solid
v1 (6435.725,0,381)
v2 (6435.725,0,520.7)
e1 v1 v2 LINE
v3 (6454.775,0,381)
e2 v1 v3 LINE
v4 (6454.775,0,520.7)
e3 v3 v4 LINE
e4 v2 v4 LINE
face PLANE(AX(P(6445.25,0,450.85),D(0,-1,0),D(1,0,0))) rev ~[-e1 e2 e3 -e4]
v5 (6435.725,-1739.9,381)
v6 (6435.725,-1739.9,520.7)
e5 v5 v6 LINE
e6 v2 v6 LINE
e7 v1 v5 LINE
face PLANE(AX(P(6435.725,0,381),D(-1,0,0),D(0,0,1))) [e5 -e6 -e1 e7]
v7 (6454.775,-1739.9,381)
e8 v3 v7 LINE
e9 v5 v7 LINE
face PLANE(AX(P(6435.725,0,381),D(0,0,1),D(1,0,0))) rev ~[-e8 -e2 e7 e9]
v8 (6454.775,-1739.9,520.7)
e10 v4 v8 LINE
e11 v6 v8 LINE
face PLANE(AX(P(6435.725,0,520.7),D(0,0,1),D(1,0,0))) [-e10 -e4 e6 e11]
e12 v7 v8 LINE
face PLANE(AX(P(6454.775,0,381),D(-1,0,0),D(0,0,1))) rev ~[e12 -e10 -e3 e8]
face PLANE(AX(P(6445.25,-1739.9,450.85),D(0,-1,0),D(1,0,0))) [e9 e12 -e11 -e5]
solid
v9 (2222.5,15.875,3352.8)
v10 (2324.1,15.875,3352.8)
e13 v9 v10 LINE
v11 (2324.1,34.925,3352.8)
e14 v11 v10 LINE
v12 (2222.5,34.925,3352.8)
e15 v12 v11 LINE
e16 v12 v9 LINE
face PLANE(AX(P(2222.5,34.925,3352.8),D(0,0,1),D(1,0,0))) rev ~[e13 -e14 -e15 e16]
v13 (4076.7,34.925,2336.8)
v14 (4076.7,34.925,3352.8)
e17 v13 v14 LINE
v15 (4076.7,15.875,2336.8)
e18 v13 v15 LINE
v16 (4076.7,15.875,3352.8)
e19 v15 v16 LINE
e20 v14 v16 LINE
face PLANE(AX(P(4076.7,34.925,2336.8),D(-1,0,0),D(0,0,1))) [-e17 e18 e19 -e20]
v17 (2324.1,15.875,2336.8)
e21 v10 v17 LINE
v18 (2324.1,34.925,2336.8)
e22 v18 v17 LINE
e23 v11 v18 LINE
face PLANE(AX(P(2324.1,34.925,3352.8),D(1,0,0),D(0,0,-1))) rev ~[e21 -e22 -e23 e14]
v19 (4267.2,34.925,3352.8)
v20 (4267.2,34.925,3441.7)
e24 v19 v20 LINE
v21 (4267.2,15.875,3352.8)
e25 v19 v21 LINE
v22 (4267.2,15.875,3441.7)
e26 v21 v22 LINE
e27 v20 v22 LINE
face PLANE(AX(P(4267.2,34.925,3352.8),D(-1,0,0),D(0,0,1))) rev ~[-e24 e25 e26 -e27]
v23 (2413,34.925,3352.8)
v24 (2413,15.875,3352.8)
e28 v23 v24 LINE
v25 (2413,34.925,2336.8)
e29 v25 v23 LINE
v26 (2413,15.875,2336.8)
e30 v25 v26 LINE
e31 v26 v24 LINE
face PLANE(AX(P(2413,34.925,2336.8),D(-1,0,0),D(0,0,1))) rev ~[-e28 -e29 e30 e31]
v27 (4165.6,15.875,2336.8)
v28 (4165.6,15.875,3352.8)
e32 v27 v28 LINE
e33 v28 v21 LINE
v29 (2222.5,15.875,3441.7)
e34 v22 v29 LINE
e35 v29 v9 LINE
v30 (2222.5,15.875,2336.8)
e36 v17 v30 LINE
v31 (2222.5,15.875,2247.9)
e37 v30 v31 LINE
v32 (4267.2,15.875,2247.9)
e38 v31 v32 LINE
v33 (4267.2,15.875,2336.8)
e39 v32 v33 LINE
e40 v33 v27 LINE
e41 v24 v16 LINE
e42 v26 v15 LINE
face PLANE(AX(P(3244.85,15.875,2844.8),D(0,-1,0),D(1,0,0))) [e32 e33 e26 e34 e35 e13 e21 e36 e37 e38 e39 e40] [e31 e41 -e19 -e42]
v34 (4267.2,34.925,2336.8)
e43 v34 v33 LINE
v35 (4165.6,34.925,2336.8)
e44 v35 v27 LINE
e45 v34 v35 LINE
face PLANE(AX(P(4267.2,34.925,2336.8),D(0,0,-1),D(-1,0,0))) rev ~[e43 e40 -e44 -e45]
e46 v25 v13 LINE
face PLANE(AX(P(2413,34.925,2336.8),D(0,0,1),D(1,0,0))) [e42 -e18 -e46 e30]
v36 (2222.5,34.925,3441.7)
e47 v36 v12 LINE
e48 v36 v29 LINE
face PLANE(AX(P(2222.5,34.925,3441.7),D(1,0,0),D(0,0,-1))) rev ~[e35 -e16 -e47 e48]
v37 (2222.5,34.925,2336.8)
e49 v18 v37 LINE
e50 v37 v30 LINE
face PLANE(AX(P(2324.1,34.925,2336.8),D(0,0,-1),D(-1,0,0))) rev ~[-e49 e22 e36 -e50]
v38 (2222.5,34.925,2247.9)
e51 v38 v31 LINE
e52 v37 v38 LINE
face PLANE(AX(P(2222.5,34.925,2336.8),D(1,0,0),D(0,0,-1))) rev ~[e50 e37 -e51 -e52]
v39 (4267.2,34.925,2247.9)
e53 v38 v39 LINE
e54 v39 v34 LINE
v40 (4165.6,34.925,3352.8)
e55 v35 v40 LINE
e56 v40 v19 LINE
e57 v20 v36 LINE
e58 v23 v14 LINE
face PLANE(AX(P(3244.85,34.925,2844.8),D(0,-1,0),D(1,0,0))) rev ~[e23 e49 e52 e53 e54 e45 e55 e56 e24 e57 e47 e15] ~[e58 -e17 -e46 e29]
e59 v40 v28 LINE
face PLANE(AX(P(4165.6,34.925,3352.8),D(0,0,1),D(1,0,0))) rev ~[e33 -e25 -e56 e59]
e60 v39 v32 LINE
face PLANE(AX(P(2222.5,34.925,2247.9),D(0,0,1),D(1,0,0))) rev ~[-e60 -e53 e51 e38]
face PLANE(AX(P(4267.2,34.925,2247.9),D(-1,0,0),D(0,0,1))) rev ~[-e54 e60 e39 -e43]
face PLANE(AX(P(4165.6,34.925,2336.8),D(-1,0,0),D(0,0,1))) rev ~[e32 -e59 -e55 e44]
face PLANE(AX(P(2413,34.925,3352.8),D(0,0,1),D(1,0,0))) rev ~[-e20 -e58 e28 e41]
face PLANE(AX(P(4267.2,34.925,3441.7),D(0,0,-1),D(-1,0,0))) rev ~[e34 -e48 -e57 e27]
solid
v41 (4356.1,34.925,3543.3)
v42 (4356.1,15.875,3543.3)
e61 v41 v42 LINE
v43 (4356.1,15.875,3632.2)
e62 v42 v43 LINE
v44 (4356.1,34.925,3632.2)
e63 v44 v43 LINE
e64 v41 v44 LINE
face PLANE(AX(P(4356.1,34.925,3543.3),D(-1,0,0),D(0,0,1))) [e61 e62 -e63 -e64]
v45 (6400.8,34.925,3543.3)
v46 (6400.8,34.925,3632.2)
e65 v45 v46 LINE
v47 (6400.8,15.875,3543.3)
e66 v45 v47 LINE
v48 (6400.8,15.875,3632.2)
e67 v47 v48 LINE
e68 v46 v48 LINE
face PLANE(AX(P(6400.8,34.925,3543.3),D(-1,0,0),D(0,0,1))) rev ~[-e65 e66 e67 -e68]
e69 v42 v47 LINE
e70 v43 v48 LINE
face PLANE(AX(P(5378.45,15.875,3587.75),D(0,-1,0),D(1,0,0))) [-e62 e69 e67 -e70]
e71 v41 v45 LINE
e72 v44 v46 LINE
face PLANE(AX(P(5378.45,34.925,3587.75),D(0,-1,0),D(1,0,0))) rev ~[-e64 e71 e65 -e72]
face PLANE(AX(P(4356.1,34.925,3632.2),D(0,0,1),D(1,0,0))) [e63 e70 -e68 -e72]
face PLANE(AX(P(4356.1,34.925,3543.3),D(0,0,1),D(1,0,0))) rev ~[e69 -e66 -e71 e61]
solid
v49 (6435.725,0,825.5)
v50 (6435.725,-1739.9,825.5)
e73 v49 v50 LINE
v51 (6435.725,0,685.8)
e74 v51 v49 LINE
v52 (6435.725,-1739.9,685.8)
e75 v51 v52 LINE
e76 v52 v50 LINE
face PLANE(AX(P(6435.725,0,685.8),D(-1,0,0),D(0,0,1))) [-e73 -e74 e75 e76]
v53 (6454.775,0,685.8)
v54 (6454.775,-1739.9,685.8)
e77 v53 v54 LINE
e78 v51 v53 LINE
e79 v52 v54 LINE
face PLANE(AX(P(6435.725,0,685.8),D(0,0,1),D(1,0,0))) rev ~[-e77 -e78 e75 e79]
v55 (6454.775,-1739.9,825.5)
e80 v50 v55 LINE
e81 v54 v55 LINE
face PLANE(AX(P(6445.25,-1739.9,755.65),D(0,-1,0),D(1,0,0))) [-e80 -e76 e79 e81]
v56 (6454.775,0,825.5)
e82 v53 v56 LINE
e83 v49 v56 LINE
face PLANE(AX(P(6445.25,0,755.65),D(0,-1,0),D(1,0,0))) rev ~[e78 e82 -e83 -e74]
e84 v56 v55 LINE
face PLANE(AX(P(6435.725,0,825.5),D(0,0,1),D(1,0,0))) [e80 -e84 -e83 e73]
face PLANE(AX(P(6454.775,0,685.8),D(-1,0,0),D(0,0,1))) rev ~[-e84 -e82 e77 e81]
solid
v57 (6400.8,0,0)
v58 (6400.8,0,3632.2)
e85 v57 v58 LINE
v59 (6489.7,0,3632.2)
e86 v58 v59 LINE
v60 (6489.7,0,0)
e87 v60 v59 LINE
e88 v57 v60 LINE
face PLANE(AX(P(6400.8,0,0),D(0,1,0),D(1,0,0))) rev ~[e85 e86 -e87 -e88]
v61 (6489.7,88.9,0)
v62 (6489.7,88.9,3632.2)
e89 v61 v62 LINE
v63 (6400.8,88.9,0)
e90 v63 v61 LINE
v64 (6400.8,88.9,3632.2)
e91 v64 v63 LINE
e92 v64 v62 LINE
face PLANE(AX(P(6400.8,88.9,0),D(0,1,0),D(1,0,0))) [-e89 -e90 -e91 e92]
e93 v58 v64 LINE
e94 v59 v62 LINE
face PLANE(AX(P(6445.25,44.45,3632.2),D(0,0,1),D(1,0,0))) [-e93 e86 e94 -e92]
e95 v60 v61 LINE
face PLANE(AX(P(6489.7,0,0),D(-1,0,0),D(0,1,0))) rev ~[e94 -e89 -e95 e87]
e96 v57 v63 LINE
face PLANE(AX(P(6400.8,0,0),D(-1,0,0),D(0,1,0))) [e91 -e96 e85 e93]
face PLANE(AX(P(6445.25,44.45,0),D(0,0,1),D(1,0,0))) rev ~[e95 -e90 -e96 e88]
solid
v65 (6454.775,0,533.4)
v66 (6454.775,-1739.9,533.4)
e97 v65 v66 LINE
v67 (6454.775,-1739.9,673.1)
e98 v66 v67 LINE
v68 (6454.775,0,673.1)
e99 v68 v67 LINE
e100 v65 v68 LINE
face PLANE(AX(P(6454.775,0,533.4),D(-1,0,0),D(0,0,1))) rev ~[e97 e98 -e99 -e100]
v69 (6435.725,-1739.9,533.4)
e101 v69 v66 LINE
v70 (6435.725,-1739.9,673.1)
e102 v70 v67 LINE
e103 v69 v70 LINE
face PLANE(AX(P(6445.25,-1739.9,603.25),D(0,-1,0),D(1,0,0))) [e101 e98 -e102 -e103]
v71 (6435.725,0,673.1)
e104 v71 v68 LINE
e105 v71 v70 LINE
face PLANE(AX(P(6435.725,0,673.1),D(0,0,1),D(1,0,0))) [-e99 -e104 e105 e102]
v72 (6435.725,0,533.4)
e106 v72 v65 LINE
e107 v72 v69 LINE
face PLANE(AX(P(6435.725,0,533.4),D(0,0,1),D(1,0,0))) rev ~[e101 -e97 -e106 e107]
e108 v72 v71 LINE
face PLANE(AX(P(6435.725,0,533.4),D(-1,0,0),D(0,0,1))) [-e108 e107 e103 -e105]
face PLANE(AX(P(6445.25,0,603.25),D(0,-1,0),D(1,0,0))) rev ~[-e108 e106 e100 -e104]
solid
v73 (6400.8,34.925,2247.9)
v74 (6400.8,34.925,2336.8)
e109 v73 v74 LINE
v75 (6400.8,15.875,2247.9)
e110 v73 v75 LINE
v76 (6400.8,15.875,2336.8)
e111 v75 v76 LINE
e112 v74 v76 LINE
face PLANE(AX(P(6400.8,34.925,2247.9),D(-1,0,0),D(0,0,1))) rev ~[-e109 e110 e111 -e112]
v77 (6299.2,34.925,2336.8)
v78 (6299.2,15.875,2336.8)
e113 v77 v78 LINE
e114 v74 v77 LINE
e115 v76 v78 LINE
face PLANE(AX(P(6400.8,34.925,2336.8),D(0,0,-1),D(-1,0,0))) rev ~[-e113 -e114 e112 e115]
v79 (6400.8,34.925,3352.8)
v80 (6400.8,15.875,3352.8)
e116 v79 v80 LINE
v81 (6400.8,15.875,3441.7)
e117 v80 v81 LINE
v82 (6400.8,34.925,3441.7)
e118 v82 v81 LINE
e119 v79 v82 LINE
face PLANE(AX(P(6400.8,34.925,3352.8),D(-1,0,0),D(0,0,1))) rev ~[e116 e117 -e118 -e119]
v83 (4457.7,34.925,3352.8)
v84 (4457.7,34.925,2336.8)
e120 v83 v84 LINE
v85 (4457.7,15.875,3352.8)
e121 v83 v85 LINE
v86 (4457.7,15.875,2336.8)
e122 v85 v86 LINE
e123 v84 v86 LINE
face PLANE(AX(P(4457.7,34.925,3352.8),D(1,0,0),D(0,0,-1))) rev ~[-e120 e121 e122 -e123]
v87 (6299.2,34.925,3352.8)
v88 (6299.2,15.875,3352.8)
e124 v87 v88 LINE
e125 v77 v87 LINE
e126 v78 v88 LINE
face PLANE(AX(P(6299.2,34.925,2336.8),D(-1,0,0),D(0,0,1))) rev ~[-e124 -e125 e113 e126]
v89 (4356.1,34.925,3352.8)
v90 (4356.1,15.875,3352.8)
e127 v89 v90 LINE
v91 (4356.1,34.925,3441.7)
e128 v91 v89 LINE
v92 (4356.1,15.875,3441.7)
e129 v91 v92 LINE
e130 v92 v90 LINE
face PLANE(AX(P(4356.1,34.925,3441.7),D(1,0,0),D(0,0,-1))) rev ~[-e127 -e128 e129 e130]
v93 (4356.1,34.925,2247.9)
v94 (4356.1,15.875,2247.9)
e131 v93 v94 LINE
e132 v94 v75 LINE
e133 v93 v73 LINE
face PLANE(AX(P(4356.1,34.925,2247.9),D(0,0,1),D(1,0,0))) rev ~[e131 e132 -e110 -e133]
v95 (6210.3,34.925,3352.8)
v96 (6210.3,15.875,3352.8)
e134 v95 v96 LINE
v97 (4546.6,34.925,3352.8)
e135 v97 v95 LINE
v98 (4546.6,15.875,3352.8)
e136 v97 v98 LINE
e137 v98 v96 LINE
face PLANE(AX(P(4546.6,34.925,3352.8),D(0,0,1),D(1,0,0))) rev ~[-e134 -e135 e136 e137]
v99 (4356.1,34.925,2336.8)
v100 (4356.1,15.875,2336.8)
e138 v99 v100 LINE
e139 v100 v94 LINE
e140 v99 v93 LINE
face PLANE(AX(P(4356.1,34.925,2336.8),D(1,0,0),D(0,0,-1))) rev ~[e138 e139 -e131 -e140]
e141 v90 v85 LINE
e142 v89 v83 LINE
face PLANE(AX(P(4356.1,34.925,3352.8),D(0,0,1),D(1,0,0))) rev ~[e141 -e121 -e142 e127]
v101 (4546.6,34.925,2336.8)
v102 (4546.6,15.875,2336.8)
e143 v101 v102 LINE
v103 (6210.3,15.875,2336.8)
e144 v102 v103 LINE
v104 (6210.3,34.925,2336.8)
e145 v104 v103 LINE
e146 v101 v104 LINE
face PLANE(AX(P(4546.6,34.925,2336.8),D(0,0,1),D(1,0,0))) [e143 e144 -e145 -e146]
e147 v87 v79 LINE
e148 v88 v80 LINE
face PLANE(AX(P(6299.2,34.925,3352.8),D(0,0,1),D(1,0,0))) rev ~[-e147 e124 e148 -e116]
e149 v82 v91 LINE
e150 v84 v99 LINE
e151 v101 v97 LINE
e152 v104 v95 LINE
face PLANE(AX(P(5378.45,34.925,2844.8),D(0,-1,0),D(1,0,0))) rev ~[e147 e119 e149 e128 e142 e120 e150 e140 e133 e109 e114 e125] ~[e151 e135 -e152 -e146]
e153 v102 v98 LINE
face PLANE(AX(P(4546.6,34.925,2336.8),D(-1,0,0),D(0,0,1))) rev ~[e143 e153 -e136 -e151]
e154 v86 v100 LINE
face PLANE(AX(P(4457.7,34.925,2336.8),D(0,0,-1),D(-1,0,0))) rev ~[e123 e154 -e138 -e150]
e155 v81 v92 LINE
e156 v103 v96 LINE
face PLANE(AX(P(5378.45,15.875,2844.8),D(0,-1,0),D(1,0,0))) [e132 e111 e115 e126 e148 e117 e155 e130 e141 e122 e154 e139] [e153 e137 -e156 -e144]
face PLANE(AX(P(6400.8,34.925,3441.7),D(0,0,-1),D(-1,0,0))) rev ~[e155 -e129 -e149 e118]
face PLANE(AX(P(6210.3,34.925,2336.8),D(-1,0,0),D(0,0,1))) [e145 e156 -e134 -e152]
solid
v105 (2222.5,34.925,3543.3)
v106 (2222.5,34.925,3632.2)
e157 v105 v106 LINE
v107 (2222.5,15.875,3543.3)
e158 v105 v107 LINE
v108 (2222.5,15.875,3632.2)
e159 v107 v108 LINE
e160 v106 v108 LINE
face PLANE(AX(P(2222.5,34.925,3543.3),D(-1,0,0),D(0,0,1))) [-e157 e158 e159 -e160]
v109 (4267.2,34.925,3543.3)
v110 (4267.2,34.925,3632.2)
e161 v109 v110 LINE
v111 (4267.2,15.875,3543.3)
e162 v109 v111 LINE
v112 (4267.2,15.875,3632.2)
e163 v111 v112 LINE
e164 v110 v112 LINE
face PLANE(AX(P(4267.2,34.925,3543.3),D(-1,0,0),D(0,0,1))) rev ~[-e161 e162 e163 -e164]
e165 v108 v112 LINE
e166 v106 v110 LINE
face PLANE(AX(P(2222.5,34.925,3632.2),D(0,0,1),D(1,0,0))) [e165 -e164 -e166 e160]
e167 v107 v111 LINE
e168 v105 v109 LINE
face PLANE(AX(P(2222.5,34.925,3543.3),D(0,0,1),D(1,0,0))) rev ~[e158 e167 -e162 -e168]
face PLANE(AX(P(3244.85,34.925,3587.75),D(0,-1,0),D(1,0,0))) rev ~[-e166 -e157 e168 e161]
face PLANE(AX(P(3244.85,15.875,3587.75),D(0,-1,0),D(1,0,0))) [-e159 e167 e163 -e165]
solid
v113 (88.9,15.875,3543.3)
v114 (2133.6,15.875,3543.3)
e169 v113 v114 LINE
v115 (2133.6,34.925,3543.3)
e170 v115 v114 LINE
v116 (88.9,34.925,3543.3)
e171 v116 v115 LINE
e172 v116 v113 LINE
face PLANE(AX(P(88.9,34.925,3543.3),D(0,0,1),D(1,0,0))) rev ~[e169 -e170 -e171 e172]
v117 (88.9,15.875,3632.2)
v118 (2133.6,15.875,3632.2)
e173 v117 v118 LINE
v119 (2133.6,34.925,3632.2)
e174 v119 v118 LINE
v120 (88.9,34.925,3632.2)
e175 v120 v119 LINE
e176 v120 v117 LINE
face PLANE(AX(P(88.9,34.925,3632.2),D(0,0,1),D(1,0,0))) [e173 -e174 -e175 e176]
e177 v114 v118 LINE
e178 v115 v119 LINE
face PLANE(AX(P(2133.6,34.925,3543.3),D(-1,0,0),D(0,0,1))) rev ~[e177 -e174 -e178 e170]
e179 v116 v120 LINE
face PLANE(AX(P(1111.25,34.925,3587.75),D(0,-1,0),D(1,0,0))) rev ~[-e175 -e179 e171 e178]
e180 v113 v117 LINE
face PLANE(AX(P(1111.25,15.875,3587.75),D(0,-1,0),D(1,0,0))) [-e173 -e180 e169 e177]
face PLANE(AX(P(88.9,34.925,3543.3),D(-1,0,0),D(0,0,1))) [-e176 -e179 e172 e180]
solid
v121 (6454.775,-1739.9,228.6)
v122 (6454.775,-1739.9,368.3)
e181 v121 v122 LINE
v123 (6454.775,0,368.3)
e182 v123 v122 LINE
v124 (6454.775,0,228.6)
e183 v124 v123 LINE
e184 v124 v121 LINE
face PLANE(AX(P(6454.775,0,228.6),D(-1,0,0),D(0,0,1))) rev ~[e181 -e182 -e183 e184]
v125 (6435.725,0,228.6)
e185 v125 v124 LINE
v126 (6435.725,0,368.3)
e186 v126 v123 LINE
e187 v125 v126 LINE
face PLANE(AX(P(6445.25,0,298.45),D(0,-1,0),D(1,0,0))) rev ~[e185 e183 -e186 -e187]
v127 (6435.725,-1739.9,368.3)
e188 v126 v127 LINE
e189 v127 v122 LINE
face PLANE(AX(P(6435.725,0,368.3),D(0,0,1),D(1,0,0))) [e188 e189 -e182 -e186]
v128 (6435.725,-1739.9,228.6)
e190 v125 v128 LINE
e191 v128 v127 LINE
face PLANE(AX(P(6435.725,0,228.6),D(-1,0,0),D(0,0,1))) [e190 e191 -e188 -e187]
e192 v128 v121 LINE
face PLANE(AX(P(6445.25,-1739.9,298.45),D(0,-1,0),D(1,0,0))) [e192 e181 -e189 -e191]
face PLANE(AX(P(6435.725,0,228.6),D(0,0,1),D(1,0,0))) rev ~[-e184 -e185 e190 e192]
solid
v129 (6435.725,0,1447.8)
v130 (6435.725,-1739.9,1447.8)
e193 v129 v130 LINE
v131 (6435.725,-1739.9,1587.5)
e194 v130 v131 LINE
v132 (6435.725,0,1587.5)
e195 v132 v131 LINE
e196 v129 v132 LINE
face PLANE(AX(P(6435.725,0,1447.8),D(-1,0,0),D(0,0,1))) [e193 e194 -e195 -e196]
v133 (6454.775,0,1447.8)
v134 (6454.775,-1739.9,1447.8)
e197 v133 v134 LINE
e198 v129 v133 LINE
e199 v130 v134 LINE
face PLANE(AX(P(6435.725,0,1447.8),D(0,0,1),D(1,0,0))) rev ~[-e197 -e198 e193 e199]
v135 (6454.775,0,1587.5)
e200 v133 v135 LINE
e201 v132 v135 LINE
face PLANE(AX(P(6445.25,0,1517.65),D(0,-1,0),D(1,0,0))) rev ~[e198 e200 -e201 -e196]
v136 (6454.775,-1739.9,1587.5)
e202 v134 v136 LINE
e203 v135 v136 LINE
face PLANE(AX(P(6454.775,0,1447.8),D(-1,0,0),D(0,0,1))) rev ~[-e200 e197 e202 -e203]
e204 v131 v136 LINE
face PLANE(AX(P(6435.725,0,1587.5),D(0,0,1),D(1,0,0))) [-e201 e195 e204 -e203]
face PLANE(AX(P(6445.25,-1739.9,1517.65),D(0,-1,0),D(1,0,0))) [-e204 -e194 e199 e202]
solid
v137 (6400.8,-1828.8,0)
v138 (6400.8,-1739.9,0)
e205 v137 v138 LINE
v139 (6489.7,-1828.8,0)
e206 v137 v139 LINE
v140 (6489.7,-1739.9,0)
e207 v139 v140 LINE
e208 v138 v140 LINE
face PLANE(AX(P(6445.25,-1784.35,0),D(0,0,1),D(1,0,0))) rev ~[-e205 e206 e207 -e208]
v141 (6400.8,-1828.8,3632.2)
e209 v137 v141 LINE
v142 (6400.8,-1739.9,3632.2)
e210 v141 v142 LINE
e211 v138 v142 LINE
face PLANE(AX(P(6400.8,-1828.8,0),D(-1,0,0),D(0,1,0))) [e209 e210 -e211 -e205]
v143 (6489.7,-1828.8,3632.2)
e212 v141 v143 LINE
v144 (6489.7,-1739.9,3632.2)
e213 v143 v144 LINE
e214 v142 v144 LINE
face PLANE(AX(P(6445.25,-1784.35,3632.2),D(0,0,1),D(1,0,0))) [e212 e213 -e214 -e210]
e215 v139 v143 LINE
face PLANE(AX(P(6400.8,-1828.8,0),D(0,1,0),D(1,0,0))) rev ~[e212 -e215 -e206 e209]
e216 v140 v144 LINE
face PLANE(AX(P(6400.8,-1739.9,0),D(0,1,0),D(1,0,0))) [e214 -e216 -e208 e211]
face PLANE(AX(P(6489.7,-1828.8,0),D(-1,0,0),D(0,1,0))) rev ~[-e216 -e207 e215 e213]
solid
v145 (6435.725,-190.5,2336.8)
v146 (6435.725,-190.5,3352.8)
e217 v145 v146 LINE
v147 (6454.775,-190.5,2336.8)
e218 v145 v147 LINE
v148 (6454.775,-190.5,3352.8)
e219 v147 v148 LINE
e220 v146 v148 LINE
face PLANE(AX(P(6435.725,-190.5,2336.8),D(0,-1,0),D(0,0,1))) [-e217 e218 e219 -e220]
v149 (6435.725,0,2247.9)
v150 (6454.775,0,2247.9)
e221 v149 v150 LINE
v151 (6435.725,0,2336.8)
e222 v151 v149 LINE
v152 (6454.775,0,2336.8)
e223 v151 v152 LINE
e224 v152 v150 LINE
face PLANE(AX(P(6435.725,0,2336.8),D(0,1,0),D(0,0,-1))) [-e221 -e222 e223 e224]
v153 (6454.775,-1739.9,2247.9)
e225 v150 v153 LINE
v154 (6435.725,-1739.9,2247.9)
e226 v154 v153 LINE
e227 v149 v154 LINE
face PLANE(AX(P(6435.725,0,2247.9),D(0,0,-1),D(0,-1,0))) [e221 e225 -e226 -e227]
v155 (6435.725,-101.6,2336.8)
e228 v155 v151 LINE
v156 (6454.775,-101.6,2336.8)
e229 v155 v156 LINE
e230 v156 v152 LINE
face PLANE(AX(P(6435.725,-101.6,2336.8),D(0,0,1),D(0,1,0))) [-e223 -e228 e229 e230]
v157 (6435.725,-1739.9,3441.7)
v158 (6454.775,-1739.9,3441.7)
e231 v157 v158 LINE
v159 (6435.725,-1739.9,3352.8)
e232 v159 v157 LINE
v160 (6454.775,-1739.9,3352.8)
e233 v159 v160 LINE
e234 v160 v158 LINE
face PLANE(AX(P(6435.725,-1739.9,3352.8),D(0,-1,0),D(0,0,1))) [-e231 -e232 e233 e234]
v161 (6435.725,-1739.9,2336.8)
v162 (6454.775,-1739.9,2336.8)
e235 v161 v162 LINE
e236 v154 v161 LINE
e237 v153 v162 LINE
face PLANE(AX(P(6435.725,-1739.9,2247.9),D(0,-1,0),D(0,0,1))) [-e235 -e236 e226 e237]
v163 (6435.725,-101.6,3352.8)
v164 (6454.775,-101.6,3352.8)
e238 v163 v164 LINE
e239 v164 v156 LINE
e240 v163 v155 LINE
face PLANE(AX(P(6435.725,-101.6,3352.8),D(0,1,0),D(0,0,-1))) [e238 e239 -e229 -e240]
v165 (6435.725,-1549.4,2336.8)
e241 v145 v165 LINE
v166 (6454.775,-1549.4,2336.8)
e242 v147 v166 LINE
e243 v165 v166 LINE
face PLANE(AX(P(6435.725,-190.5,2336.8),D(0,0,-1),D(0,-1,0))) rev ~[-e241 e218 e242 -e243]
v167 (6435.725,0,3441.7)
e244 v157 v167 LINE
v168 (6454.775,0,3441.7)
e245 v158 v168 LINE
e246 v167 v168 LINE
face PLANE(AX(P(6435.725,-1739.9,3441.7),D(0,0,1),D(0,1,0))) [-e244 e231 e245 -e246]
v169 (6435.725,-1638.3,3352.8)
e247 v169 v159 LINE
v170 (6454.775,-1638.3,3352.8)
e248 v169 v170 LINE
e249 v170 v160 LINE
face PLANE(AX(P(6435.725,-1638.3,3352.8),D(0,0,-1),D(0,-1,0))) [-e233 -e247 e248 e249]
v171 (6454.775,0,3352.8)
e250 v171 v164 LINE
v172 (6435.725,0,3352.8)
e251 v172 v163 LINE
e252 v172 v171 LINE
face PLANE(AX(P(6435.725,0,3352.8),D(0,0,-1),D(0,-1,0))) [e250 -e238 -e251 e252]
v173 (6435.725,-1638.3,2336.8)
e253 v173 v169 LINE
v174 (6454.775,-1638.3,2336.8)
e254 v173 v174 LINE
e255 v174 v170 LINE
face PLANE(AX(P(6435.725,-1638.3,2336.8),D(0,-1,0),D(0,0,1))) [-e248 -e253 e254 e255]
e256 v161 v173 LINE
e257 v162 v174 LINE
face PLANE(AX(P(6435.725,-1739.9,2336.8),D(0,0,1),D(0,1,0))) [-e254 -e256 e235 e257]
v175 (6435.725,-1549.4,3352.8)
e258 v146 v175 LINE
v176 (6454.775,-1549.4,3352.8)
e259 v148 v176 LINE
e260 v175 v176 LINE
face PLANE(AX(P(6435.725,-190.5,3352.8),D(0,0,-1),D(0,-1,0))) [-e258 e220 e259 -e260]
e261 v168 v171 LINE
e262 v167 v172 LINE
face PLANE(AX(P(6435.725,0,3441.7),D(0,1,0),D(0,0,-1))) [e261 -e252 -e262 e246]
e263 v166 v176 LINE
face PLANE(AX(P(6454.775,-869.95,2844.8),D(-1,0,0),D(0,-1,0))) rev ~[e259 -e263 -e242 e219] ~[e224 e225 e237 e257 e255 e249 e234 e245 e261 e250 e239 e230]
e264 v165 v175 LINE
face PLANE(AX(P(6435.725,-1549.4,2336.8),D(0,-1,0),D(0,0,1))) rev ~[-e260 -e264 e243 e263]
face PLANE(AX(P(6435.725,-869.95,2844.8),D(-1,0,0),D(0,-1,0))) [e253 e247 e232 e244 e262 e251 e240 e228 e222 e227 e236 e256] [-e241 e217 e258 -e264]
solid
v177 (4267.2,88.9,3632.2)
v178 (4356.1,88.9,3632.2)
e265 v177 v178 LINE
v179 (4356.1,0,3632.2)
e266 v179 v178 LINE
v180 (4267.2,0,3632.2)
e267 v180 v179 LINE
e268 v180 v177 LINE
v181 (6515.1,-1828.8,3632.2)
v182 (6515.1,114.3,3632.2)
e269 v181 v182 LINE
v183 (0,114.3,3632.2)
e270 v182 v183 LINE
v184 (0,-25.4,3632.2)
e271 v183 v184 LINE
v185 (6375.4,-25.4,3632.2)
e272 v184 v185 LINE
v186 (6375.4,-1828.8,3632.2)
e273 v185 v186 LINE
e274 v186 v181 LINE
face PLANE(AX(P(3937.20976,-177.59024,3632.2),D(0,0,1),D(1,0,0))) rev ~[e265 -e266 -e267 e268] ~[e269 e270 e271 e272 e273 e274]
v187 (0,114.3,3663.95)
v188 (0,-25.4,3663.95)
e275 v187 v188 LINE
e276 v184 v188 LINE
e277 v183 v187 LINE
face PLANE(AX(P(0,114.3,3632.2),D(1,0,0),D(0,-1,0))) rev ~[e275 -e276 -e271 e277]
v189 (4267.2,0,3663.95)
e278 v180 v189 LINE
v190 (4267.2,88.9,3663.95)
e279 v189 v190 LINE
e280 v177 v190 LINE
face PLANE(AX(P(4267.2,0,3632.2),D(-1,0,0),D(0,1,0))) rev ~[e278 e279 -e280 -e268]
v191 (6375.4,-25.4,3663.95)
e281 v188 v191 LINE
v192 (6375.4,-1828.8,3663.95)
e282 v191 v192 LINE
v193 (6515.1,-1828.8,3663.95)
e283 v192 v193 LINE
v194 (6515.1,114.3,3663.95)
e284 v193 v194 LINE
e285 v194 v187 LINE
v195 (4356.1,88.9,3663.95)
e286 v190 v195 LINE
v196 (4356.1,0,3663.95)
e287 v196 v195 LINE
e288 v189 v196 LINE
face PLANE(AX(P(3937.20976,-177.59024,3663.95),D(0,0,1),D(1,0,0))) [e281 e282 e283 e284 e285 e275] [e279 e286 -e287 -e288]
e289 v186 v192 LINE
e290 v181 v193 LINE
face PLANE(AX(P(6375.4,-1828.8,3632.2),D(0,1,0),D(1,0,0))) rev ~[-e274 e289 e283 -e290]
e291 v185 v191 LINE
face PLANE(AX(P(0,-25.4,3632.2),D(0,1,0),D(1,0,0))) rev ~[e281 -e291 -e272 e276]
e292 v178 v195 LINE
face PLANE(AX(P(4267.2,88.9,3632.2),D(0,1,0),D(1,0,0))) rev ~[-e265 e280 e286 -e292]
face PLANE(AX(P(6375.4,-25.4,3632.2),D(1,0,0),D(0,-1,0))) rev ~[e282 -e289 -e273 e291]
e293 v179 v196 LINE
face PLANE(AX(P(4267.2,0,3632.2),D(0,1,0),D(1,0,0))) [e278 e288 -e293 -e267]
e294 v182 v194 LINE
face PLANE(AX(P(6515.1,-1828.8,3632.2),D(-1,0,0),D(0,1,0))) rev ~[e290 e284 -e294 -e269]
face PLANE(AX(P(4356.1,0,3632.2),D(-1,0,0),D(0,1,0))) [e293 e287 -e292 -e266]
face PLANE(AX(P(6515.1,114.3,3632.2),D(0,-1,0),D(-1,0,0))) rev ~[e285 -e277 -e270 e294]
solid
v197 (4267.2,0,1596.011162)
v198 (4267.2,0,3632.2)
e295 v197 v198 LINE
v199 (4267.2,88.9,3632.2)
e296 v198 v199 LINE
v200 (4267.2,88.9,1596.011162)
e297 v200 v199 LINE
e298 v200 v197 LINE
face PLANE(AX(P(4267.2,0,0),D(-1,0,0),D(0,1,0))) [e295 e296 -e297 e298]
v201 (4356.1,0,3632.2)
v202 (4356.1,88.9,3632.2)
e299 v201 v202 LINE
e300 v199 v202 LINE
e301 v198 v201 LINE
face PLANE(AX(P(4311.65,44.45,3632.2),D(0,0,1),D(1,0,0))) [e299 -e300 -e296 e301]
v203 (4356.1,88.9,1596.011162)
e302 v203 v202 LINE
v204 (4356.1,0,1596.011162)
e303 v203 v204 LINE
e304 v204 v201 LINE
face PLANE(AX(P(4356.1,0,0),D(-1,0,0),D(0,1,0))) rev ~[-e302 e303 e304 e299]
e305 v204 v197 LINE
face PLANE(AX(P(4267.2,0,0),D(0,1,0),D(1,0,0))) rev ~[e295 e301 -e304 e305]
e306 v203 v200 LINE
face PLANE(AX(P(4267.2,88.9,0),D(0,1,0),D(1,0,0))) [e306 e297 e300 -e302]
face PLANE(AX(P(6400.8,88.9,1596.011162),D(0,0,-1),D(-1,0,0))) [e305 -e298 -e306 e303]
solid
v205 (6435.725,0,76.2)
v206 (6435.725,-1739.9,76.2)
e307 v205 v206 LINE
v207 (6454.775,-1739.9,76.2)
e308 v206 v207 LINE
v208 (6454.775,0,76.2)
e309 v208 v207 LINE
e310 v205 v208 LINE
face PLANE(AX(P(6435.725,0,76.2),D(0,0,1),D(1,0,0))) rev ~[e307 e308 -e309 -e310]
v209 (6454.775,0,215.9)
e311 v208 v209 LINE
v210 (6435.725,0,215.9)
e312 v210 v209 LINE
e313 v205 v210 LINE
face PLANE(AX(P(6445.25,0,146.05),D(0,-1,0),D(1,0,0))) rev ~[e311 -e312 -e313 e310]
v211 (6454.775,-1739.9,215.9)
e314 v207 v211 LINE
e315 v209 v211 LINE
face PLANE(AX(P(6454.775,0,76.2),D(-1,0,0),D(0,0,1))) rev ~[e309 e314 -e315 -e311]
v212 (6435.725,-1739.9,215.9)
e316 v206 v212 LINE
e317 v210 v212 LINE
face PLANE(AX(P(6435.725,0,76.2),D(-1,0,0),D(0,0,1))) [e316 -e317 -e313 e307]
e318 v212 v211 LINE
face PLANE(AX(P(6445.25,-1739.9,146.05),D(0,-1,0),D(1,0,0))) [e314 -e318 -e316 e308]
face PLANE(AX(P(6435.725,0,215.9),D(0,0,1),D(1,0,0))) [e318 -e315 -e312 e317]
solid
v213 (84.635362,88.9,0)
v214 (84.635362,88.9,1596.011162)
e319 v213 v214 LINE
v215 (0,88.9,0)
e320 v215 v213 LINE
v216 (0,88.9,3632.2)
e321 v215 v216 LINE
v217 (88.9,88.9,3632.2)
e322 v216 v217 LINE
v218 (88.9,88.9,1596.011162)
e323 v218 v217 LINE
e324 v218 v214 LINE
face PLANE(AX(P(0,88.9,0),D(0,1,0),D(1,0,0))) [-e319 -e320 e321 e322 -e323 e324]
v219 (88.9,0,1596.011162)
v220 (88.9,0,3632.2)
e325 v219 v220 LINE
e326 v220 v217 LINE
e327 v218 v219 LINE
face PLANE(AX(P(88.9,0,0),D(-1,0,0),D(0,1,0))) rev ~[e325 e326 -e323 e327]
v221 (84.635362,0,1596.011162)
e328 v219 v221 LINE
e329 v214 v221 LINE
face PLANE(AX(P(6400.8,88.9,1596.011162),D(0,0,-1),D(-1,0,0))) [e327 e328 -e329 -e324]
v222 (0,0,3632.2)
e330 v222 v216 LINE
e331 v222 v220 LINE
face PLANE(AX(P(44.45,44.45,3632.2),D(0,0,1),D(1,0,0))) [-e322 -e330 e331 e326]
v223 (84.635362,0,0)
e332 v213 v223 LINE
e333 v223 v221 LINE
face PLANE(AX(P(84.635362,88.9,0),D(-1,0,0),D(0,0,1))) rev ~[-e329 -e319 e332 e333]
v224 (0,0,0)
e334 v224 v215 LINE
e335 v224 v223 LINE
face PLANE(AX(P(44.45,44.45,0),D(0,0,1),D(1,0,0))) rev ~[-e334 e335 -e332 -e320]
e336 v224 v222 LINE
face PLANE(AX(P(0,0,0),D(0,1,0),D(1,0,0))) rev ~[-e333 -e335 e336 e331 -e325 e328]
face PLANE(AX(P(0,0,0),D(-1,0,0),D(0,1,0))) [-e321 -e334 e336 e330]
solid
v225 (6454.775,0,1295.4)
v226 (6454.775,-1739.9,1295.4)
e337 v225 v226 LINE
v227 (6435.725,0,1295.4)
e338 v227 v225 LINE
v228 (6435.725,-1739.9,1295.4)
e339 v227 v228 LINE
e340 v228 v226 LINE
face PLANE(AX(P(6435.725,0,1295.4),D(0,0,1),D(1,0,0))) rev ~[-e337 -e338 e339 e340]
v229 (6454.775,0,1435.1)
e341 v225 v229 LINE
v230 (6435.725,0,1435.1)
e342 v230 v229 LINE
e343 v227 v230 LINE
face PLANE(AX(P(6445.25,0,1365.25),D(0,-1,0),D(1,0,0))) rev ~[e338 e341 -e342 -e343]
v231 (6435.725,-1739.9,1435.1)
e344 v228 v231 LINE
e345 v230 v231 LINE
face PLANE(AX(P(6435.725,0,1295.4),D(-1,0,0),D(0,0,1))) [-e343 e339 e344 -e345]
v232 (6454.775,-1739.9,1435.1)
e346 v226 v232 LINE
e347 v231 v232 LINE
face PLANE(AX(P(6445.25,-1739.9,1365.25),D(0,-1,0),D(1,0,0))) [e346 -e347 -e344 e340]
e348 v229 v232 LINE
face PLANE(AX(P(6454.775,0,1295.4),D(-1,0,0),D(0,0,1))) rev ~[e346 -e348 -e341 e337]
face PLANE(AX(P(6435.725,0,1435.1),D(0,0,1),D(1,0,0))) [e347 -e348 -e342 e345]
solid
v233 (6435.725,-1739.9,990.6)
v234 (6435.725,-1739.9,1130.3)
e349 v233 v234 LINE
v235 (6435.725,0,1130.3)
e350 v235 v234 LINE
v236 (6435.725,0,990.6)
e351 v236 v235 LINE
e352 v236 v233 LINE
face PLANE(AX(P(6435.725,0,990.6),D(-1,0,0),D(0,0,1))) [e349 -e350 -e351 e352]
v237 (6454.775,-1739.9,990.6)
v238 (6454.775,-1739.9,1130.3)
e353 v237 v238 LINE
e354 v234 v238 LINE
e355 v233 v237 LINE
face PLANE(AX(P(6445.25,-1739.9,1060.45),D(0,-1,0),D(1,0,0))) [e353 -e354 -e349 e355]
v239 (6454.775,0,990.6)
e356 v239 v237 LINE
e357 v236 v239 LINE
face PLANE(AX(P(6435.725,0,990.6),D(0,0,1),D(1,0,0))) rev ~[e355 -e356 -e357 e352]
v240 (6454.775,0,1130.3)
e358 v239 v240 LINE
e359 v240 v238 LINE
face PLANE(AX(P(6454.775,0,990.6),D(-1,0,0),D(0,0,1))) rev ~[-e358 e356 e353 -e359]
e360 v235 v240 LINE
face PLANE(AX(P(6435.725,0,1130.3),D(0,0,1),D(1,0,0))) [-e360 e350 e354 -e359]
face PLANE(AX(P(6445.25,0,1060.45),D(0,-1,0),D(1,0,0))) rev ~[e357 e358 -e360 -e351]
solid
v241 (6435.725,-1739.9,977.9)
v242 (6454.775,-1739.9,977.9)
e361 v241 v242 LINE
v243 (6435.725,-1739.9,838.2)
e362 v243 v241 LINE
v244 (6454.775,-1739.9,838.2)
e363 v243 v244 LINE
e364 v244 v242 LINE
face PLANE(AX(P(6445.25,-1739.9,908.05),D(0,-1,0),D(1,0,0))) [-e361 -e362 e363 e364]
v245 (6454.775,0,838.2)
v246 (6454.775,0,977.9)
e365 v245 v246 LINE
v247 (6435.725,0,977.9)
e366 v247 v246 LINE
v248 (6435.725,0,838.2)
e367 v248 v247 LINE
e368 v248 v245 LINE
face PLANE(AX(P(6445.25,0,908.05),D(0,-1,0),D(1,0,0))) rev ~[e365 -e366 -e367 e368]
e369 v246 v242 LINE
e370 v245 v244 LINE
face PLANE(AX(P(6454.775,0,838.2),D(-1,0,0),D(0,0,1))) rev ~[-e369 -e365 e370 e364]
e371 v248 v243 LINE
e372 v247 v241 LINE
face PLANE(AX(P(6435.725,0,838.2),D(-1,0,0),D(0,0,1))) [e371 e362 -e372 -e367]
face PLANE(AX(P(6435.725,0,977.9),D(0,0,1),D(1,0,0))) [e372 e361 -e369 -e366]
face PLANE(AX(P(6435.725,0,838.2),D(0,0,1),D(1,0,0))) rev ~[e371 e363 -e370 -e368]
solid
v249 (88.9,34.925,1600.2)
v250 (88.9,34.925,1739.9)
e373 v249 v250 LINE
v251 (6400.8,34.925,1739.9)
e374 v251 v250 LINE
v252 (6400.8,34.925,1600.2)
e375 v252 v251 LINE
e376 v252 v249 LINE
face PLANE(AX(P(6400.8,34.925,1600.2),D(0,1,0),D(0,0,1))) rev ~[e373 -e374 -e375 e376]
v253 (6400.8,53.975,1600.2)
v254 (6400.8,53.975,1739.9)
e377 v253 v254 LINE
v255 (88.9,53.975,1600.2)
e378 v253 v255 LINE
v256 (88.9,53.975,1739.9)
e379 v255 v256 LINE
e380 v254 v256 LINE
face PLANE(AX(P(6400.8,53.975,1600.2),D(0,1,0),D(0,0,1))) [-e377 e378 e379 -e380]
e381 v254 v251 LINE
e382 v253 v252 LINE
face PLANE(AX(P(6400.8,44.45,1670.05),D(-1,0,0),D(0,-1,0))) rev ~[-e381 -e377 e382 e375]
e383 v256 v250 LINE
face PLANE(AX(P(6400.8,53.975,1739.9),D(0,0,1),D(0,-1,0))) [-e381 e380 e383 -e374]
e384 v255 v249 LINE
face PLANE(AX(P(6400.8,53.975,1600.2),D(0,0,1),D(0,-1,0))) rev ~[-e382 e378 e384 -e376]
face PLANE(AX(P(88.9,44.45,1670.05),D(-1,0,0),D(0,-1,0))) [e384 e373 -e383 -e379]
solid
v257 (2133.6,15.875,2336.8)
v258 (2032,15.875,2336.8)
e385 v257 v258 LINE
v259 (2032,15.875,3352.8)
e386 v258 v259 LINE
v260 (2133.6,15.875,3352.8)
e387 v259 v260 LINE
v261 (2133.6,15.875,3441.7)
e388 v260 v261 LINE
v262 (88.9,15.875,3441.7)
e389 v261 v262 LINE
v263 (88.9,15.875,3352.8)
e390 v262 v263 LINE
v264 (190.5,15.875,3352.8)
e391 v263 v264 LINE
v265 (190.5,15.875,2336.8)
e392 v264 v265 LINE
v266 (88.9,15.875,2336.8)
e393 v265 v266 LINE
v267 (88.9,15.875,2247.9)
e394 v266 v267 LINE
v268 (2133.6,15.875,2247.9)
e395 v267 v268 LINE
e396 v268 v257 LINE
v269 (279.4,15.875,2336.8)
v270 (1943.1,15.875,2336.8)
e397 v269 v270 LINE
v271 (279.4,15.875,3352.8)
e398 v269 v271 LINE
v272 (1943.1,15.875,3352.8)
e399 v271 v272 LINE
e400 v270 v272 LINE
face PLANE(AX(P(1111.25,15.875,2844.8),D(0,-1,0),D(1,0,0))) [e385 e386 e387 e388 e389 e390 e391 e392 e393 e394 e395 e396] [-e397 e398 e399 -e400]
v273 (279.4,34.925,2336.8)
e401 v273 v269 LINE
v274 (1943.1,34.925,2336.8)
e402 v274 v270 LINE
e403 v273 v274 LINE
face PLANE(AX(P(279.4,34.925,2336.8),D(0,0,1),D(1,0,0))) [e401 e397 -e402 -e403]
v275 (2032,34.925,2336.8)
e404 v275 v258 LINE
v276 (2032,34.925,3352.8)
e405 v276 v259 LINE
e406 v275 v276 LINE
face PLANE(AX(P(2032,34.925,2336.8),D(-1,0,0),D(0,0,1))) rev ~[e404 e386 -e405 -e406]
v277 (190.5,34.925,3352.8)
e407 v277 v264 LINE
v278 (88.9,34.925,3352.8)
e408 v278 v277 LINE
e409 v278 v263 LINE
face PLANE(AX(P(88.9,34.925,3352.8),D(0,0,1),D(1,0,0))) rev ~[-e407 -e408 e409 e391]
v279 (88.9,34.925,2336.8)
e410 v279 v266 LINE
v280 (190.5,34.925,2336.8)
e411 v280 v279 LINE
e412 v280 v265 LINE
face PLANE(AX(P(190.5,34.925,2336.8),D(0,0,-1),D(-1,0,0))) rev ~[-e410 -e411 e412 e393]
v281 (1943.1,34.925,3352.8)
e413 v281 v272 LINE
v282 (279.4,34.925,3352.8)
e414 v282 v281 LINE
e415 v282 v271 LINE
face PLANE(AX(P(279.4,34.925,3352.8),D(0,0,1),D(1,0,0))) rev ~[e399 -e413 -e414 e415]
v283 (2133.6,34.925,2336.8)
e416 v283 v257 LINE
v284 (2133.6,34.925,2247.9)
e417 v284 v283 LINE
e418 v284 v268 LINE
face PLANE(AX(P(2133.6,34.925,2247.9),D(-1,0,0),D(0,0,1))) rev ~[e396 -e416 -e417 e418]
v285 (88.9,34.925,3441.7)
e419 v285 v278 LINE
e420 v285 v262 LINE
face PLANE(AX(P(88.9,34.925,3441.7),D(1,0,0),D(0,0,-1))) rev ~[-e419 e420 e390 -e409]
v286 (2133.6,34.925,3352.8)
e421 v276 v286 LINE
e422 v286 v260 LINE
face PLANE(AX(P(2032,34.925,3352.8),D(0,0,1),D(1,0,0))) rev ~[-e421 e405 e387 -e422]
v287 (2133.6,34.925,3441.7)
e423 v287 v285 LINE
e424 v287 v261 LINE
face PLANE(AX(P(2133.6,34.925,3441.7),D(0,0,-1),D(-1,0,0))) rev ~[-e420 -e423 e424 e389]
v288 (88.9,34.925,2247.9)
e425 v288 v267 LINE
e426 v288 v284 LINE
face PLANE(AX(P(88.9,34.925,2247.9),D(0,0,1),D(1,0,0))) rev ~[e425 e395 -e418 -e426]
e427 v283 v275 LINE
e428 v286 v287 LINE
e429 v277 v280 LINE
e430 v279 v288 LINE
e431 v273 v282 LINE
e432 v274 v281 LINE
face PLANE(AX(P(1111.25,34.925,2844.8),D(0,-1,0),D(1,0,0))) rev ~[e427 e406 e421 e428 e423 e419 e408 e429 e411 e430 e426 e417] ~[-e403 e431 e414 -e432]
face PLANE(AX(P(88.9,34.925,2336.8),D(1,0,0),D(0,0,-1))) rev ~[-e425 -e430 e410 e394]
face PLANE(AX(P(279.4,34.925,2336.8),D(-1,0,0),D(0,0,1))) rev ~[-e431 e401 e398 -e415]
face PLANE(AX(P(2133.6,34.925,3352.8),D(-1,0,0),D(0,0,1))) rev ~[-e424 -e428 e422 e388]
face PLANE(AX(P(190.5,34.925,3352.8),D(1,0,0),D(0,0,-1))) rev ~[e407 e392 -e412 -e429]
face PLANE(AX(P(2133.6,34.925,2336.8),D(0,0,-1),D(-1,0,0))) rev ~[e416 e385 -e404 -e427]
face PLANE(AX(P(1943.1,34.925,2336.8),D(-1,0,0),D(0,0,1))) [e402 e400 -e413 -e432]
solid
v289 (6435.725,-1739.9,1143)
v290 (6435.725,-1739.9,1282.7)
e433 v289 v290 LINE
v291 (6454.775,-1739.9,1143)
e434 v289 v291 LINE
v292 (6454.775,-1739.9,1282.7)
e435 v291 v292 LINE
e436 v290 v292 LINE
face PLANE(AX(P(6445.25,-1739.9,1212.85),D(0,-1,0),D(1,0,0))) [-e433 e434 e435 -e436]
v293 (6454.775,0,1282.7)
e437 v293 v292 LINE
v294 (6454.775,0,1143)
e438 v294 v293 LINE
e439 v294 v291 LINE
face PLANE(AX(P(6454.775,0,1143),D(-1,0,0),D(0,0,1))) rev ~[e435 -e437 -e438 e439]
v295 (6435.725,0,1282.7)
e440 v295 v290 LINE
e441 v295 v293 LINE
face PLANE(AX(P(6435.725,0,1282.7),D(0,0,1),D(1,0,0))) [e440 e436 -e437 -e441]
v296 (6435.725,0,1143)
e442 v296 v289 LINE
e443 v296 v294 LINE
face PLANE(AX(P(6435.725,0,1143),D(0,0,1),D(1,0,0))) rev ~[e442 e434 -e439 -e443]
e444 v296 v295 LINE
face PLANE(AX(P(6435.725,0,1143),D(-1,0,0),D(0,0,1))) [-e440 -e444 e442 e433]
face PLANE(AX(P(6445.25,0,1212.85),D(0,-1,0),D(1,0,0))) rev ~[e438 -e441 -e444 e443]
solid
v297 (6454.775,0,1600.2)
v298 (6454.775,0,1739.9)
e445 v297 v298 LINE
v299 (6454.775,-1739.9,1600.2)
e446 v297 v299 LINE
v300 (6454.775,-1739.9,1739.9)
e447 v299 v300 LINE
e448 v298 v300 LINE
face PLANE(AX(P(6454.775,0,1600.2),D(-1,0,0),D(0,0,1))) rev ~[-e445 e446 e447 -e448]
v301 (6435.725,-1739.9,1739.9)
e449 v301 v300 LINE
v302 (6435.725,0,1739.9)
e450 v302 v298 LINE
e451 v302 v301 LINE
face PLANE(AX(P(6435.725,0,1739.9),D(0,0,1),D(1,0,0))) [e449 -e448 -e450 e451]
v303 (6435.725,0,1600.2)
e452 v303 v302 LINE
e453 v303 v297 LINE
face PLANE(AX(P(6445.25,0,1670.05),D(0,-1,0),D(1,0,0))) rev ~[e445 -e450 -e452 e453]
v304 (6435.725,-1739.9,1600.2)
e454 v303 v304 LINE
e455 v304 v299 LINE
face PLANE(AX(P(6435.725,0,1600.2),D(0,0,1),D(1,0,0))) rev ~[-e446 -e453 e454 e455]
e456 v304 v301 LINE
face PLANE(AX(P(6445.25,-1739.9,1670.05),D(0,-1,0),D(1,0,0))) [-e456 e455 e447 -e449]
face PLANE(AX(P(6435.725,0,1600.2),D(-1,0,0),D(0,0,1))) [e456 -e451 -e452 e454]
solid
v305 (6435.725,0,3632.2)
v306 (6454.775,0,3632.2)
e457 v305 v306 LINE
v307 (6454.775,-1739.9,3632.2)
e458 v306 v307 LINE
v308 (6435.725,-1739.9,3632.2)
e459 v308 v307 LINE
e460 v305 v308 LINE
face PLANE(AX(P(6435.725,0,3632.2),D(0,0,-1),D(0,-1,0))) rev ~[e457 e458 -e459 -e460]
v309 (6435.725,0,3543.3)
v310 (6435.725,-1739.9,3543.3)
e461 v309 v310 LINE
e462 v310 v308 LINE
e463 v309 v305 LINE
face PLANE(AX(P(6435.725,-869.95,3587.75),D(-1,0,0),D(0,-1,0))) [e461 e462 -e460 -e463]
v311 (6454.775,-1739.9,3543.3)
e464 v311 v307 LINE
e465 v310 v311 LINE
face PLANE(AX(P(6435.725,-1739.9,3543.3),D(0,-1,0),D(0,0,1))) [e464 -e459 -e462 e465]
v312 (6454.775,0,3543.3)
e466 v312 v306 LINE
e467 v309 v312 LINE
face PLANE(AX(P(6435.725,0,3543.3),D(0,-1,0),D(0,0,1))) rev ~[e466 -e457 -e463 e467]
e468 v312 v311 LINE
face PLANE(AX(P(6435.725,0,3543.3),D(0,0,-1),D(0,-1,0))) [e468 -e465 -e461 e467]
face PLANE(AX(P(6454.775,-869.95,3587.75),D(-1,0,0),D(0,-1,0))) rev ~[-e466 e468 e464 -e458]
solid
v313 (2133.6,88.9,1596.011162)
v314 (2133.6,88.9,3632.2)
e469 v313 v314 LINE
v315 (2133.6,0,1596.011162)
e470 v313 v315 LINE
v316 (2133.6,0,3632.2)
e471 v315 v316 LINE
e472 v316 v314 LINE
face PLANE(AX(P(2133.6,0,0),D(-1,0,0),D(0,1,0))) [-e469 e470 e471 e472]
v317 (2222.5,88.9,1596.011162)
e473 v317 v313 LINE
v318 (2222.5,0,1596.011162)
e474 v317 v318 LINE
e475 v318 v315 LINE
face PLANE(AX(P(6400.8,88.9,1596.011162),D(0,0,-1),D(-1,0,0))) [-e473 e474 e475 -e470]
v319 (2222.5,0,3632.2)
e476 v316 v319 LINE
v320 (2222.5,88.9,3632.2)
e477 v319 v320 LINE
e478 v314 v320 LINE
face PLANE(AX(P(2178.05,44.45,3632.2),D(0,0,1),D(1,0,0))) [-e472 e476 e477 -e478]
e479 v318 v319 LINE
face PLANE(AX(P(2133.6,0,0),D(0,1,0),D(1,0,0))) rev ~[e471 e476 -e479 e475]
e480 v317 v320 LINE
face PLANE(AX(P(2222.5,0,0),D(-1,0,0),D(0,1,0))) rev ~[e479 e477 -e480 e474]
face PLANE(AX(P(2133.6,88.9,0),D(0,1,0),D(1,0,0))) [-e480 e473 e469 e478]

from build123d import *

# Parameters (mm, degrees)
F0_W      = 88.9
F0_H      = 88.9
F1_DEPTH  = 3632.2
F2_W      = 19.05
F2_H      = 139.7
F3_DEPTH  = 1739.9
F4_W      = 19.05
F4_H      = 139.7
F5_DEPTH  = 6311.9
F6_W      = 88.9
F6_H      = 88.9
F7_DEPTH  = 31.75
F8_W      = 1739.9
F8_H      = 88.9
F8_W_2    = 1358.9
F8_H_2    = 1016
F9_DEPTH  = 19.05
F10_W     = 2044.7
F10_H     = 88.9
F10_W_2   = 1663.7
F10_H_2   = 1016
F11_DEPTH = 19.05
F12_W     = 6316.164638
F12_H     = 1596.011162
F13_DEPTH = 152.4


with BuildPart() as f1:
    # F0 (on Top) → F1 (new body)
    with BuildSketch(Plane.XY):
        with Locations((6445.25, 44.45)):
            Rectangle(F0_W, F0_H)
        with Locations((6445.25, -1784.35)):
            Rectangle(F0_W, F0_H)
        with Locations((44.45, 44.45)):
            Rectangle(F0_W, F0_H)
        with Locations((2178.05, 44.45)):
            Rectangle(F0_W, F0_H)
        with Locations((4311.65, 44.45)):
            Rectangle(F0_W, F0_H)
    extrude(amount=F1_DEPTH)


with BuildPart() as f3:
    # F2 (on face) → F3 (new body)
    with BuildSketch(Plane.XZ):
        with Locations((6445.25, 1670.05)):
            Rectangle(F2_W, F2_H)
        with Locations((6445.25, 1517.65)):
            Rectangle(F2_W, F2_H)
        with Locations((6445.25, 1365.25)):
            Rectangle(F2_W, F2_H)
        with Locations((6445.25, 1212.85)):
            Rectangle(F2_W, F2_H)
        with Locations((6445.25, 1060.45)):
            Rectangle(F2_W, F2_H)
        with Locations((6445.25, 908.05)):
            Rectangle(F2_W, F2_H)
        with Locations((6445.25, 755.65)):
            Rectangle(F2_W, F2_H)
        with Locations((6445.25, 603.25)):
            Rectangle(F2_W, F2_H)
        with Locations((6445.25, 450.85)):
            Rectangle(F2_W, F2_H)
        with Locations((6445.25, 298.45)):
            Rectangle(F2_W, F2_H)
        with Locations((6445.25, 146.05)):
            Rectangle(F2_W, F2_H)
    extrude(amount=F3_DEPTH)


with BuildPart() as f5:
    # F4 (on face) → F5 (new body)
    with BuildSketch(Plane(origin=(6400.8, 0, 0), x_dir=(0, -1, 0), z_dir=(-1, 0, 0))):
        with Locations((-44.45, 1670.05)):
            Rectangle(F4_W, F4_H)
        with Locations((-44.45, 1517.65)):
            Rectangle(F4_W, F4_H)
        with Locations((-44.45, 1365.25)):
            Rectangle(F4_W, F4_H)
        with Locations((-44.45, 1212.85)):
            Rectangle(F4_W, F4_H)
        with Locations((-44.45, 1060.45)):
            Rectangle(F4_W, F4_H)
        with Locations((-44.45, 908.05)):
            Rectangle(F4_W, F4_H)
        with Locations((-44.45, 755.65)):
            Rectangle(F4_W, F4_H)
        with Locations((-44.45, 603.25)):
            Rectangle(F4_W, F4_H)
        with Locations((-44.45, 450.85)):
            Rectangle(F4_W, F4_H)
        with Locations((-44.45, 298.45)):
            Rectangle(F4_W, F4_H)
        with Locations((-44.45, 146.05)):
            Rectangle(F4_W, F4_H)
    extrude(amount=F5_DEPTH)


with BuildPart() as f7:
    # F6 (on face) → F7 (new body)
    with BuildSketch(Plane.XY.offset(3632.2)):
        Polygon((0, 114.3), (0, -25.4), (6375.4, -25.4), (6375.4, -1828.8), (6515.1, -1828.8), (6515.1, 114.3), align=None)
        with Locations((4311.65, 44.45)):
            Rectangle(F6_W, F6_H, mode=Mode.SUBTRACT)
    extrude(amount=F7_DEPTH)


with BuildPart() as f9:
    # F8 (on face) → F9 (new body)
    with BuildSketch(Plane(origin=(6435.725, 0, 0), x_dir=(0, -1, 0), z_dir=(-1, 0, 0))):
        with Locations((869.95, 3587.75)):
            Rectangle(F8_W, F8_H)
        Polygon((1739.9, 3441.7), (0, 3441.7), (0, 3352.8), (101.6, 3352.8), (101.6, 2336.8), (0, 2336.8), (0, 2247.9), (1739.9, 2247.9), (1739.9, 2336.8), (1638.3, 2336.8), (1638.3, 3352.8), (1739.9, 3352.8), align=None)
        with Locations((869.95, 2844.8)):
            Rectangle(F8_W_2, F8_H_2, mode=Mode.SUBTRACT)
    extrude(amount=-F9_DEPTH)


with BuildPart() as f11:
    # F10 (on face) → F11 (new body)
    with BuildSketch(Plane.XZ.offset(-34.925)):
        with Locations((5378.45, 3587.75)):
            Rectangle(F10_W, F10_H)
        with Locations((3244.85, 3587.75)):
            Rectangle(F10_W, F10_H)
        with Locations((1111.25, 3587.75)):
            Rectangle(F10_W, F10_H)
        Polygon((6400.8, 3352.8), (6400.8, 3441.7), (4356.1, 3441.7), (4356.1, 3352.8), (4457.7, 3352.8), (4457.7, 2336.8), (4356.1, 2336.8), (4356.1, 2247.9), (6400.8, 2247.9), (6400.8, 2336.8), (6299.2, 2336.8), (6299.2, 3352.8), align=None)
        with Locations((5378.45, 2844.8)):
            Rectangle(F10_W_2, F10_H_2, mode=Mode.SUBTRACT)
        Polygon((4267.2, 3352.8), (4267.2, 3441.7), (2222.5, 3441.7), (2222.5, 3352.8), (2324.1, 3352.8), (2324.1, 2336.8), (2222.5, 2336.8), (2222.5, 2247.9), (4267.2, 2247.9), (4267.2, 2336.8), (4165.6, 2336.8), (4165.6, 3352.8), align=None)
        with Locations((3244.85, 2844.8)):
            Rectangle(F10_W_2, F10_H_2, mode=Mode.SUBTRACT)
        Polygon((2133.6, 3352.8), (2133.6, 3441.7), (88.9, 3441.7), (88.9, 3352.8), (190.5, 3352.8), (190.5, 2336.8), (88.9, 2336.8), (88.9, 2247.9), (2133.6, 2247.9), (2133.6, 2336.8), (2032, 2336.8), (2032, 3352.8), align=None)
        with Locations((1111.25, 2844.8)):
            Rectangle(F10_W_2, F10_H_2, mode=Mode.SUBTRACT)
    extrude(amount=F11_DEPTH)


with BuildPart() as f13_tool:
    # F12 (on face) → F13 (new body)
    with BuildSketch(Plane(origin=(0, 88.9, 0), x_dir=(-1, 0, 0), z_dir=(0, 1, 0))):
        with Locations((-3242.717681, 798.005581)):
            Rectangle(F12_W, F12_H)
    extrude(amount=-F13_DEPTH)


with BuildPart() as f1_1:
    add(f1.part)

    # F13: cut by f13_tool
    add(f13_tool.part, mode=Mode.SUBTRACT)


with BuildPart() as f5_1:
    add(f5.part)

    # F13: cut by f13_tool
    add(f13_tool.part, mode=Mode.SUBTRACT)


solid = Compound([f3.part, f7.part, f9.part, f11.part, f1_1.part, f5_1.part])
